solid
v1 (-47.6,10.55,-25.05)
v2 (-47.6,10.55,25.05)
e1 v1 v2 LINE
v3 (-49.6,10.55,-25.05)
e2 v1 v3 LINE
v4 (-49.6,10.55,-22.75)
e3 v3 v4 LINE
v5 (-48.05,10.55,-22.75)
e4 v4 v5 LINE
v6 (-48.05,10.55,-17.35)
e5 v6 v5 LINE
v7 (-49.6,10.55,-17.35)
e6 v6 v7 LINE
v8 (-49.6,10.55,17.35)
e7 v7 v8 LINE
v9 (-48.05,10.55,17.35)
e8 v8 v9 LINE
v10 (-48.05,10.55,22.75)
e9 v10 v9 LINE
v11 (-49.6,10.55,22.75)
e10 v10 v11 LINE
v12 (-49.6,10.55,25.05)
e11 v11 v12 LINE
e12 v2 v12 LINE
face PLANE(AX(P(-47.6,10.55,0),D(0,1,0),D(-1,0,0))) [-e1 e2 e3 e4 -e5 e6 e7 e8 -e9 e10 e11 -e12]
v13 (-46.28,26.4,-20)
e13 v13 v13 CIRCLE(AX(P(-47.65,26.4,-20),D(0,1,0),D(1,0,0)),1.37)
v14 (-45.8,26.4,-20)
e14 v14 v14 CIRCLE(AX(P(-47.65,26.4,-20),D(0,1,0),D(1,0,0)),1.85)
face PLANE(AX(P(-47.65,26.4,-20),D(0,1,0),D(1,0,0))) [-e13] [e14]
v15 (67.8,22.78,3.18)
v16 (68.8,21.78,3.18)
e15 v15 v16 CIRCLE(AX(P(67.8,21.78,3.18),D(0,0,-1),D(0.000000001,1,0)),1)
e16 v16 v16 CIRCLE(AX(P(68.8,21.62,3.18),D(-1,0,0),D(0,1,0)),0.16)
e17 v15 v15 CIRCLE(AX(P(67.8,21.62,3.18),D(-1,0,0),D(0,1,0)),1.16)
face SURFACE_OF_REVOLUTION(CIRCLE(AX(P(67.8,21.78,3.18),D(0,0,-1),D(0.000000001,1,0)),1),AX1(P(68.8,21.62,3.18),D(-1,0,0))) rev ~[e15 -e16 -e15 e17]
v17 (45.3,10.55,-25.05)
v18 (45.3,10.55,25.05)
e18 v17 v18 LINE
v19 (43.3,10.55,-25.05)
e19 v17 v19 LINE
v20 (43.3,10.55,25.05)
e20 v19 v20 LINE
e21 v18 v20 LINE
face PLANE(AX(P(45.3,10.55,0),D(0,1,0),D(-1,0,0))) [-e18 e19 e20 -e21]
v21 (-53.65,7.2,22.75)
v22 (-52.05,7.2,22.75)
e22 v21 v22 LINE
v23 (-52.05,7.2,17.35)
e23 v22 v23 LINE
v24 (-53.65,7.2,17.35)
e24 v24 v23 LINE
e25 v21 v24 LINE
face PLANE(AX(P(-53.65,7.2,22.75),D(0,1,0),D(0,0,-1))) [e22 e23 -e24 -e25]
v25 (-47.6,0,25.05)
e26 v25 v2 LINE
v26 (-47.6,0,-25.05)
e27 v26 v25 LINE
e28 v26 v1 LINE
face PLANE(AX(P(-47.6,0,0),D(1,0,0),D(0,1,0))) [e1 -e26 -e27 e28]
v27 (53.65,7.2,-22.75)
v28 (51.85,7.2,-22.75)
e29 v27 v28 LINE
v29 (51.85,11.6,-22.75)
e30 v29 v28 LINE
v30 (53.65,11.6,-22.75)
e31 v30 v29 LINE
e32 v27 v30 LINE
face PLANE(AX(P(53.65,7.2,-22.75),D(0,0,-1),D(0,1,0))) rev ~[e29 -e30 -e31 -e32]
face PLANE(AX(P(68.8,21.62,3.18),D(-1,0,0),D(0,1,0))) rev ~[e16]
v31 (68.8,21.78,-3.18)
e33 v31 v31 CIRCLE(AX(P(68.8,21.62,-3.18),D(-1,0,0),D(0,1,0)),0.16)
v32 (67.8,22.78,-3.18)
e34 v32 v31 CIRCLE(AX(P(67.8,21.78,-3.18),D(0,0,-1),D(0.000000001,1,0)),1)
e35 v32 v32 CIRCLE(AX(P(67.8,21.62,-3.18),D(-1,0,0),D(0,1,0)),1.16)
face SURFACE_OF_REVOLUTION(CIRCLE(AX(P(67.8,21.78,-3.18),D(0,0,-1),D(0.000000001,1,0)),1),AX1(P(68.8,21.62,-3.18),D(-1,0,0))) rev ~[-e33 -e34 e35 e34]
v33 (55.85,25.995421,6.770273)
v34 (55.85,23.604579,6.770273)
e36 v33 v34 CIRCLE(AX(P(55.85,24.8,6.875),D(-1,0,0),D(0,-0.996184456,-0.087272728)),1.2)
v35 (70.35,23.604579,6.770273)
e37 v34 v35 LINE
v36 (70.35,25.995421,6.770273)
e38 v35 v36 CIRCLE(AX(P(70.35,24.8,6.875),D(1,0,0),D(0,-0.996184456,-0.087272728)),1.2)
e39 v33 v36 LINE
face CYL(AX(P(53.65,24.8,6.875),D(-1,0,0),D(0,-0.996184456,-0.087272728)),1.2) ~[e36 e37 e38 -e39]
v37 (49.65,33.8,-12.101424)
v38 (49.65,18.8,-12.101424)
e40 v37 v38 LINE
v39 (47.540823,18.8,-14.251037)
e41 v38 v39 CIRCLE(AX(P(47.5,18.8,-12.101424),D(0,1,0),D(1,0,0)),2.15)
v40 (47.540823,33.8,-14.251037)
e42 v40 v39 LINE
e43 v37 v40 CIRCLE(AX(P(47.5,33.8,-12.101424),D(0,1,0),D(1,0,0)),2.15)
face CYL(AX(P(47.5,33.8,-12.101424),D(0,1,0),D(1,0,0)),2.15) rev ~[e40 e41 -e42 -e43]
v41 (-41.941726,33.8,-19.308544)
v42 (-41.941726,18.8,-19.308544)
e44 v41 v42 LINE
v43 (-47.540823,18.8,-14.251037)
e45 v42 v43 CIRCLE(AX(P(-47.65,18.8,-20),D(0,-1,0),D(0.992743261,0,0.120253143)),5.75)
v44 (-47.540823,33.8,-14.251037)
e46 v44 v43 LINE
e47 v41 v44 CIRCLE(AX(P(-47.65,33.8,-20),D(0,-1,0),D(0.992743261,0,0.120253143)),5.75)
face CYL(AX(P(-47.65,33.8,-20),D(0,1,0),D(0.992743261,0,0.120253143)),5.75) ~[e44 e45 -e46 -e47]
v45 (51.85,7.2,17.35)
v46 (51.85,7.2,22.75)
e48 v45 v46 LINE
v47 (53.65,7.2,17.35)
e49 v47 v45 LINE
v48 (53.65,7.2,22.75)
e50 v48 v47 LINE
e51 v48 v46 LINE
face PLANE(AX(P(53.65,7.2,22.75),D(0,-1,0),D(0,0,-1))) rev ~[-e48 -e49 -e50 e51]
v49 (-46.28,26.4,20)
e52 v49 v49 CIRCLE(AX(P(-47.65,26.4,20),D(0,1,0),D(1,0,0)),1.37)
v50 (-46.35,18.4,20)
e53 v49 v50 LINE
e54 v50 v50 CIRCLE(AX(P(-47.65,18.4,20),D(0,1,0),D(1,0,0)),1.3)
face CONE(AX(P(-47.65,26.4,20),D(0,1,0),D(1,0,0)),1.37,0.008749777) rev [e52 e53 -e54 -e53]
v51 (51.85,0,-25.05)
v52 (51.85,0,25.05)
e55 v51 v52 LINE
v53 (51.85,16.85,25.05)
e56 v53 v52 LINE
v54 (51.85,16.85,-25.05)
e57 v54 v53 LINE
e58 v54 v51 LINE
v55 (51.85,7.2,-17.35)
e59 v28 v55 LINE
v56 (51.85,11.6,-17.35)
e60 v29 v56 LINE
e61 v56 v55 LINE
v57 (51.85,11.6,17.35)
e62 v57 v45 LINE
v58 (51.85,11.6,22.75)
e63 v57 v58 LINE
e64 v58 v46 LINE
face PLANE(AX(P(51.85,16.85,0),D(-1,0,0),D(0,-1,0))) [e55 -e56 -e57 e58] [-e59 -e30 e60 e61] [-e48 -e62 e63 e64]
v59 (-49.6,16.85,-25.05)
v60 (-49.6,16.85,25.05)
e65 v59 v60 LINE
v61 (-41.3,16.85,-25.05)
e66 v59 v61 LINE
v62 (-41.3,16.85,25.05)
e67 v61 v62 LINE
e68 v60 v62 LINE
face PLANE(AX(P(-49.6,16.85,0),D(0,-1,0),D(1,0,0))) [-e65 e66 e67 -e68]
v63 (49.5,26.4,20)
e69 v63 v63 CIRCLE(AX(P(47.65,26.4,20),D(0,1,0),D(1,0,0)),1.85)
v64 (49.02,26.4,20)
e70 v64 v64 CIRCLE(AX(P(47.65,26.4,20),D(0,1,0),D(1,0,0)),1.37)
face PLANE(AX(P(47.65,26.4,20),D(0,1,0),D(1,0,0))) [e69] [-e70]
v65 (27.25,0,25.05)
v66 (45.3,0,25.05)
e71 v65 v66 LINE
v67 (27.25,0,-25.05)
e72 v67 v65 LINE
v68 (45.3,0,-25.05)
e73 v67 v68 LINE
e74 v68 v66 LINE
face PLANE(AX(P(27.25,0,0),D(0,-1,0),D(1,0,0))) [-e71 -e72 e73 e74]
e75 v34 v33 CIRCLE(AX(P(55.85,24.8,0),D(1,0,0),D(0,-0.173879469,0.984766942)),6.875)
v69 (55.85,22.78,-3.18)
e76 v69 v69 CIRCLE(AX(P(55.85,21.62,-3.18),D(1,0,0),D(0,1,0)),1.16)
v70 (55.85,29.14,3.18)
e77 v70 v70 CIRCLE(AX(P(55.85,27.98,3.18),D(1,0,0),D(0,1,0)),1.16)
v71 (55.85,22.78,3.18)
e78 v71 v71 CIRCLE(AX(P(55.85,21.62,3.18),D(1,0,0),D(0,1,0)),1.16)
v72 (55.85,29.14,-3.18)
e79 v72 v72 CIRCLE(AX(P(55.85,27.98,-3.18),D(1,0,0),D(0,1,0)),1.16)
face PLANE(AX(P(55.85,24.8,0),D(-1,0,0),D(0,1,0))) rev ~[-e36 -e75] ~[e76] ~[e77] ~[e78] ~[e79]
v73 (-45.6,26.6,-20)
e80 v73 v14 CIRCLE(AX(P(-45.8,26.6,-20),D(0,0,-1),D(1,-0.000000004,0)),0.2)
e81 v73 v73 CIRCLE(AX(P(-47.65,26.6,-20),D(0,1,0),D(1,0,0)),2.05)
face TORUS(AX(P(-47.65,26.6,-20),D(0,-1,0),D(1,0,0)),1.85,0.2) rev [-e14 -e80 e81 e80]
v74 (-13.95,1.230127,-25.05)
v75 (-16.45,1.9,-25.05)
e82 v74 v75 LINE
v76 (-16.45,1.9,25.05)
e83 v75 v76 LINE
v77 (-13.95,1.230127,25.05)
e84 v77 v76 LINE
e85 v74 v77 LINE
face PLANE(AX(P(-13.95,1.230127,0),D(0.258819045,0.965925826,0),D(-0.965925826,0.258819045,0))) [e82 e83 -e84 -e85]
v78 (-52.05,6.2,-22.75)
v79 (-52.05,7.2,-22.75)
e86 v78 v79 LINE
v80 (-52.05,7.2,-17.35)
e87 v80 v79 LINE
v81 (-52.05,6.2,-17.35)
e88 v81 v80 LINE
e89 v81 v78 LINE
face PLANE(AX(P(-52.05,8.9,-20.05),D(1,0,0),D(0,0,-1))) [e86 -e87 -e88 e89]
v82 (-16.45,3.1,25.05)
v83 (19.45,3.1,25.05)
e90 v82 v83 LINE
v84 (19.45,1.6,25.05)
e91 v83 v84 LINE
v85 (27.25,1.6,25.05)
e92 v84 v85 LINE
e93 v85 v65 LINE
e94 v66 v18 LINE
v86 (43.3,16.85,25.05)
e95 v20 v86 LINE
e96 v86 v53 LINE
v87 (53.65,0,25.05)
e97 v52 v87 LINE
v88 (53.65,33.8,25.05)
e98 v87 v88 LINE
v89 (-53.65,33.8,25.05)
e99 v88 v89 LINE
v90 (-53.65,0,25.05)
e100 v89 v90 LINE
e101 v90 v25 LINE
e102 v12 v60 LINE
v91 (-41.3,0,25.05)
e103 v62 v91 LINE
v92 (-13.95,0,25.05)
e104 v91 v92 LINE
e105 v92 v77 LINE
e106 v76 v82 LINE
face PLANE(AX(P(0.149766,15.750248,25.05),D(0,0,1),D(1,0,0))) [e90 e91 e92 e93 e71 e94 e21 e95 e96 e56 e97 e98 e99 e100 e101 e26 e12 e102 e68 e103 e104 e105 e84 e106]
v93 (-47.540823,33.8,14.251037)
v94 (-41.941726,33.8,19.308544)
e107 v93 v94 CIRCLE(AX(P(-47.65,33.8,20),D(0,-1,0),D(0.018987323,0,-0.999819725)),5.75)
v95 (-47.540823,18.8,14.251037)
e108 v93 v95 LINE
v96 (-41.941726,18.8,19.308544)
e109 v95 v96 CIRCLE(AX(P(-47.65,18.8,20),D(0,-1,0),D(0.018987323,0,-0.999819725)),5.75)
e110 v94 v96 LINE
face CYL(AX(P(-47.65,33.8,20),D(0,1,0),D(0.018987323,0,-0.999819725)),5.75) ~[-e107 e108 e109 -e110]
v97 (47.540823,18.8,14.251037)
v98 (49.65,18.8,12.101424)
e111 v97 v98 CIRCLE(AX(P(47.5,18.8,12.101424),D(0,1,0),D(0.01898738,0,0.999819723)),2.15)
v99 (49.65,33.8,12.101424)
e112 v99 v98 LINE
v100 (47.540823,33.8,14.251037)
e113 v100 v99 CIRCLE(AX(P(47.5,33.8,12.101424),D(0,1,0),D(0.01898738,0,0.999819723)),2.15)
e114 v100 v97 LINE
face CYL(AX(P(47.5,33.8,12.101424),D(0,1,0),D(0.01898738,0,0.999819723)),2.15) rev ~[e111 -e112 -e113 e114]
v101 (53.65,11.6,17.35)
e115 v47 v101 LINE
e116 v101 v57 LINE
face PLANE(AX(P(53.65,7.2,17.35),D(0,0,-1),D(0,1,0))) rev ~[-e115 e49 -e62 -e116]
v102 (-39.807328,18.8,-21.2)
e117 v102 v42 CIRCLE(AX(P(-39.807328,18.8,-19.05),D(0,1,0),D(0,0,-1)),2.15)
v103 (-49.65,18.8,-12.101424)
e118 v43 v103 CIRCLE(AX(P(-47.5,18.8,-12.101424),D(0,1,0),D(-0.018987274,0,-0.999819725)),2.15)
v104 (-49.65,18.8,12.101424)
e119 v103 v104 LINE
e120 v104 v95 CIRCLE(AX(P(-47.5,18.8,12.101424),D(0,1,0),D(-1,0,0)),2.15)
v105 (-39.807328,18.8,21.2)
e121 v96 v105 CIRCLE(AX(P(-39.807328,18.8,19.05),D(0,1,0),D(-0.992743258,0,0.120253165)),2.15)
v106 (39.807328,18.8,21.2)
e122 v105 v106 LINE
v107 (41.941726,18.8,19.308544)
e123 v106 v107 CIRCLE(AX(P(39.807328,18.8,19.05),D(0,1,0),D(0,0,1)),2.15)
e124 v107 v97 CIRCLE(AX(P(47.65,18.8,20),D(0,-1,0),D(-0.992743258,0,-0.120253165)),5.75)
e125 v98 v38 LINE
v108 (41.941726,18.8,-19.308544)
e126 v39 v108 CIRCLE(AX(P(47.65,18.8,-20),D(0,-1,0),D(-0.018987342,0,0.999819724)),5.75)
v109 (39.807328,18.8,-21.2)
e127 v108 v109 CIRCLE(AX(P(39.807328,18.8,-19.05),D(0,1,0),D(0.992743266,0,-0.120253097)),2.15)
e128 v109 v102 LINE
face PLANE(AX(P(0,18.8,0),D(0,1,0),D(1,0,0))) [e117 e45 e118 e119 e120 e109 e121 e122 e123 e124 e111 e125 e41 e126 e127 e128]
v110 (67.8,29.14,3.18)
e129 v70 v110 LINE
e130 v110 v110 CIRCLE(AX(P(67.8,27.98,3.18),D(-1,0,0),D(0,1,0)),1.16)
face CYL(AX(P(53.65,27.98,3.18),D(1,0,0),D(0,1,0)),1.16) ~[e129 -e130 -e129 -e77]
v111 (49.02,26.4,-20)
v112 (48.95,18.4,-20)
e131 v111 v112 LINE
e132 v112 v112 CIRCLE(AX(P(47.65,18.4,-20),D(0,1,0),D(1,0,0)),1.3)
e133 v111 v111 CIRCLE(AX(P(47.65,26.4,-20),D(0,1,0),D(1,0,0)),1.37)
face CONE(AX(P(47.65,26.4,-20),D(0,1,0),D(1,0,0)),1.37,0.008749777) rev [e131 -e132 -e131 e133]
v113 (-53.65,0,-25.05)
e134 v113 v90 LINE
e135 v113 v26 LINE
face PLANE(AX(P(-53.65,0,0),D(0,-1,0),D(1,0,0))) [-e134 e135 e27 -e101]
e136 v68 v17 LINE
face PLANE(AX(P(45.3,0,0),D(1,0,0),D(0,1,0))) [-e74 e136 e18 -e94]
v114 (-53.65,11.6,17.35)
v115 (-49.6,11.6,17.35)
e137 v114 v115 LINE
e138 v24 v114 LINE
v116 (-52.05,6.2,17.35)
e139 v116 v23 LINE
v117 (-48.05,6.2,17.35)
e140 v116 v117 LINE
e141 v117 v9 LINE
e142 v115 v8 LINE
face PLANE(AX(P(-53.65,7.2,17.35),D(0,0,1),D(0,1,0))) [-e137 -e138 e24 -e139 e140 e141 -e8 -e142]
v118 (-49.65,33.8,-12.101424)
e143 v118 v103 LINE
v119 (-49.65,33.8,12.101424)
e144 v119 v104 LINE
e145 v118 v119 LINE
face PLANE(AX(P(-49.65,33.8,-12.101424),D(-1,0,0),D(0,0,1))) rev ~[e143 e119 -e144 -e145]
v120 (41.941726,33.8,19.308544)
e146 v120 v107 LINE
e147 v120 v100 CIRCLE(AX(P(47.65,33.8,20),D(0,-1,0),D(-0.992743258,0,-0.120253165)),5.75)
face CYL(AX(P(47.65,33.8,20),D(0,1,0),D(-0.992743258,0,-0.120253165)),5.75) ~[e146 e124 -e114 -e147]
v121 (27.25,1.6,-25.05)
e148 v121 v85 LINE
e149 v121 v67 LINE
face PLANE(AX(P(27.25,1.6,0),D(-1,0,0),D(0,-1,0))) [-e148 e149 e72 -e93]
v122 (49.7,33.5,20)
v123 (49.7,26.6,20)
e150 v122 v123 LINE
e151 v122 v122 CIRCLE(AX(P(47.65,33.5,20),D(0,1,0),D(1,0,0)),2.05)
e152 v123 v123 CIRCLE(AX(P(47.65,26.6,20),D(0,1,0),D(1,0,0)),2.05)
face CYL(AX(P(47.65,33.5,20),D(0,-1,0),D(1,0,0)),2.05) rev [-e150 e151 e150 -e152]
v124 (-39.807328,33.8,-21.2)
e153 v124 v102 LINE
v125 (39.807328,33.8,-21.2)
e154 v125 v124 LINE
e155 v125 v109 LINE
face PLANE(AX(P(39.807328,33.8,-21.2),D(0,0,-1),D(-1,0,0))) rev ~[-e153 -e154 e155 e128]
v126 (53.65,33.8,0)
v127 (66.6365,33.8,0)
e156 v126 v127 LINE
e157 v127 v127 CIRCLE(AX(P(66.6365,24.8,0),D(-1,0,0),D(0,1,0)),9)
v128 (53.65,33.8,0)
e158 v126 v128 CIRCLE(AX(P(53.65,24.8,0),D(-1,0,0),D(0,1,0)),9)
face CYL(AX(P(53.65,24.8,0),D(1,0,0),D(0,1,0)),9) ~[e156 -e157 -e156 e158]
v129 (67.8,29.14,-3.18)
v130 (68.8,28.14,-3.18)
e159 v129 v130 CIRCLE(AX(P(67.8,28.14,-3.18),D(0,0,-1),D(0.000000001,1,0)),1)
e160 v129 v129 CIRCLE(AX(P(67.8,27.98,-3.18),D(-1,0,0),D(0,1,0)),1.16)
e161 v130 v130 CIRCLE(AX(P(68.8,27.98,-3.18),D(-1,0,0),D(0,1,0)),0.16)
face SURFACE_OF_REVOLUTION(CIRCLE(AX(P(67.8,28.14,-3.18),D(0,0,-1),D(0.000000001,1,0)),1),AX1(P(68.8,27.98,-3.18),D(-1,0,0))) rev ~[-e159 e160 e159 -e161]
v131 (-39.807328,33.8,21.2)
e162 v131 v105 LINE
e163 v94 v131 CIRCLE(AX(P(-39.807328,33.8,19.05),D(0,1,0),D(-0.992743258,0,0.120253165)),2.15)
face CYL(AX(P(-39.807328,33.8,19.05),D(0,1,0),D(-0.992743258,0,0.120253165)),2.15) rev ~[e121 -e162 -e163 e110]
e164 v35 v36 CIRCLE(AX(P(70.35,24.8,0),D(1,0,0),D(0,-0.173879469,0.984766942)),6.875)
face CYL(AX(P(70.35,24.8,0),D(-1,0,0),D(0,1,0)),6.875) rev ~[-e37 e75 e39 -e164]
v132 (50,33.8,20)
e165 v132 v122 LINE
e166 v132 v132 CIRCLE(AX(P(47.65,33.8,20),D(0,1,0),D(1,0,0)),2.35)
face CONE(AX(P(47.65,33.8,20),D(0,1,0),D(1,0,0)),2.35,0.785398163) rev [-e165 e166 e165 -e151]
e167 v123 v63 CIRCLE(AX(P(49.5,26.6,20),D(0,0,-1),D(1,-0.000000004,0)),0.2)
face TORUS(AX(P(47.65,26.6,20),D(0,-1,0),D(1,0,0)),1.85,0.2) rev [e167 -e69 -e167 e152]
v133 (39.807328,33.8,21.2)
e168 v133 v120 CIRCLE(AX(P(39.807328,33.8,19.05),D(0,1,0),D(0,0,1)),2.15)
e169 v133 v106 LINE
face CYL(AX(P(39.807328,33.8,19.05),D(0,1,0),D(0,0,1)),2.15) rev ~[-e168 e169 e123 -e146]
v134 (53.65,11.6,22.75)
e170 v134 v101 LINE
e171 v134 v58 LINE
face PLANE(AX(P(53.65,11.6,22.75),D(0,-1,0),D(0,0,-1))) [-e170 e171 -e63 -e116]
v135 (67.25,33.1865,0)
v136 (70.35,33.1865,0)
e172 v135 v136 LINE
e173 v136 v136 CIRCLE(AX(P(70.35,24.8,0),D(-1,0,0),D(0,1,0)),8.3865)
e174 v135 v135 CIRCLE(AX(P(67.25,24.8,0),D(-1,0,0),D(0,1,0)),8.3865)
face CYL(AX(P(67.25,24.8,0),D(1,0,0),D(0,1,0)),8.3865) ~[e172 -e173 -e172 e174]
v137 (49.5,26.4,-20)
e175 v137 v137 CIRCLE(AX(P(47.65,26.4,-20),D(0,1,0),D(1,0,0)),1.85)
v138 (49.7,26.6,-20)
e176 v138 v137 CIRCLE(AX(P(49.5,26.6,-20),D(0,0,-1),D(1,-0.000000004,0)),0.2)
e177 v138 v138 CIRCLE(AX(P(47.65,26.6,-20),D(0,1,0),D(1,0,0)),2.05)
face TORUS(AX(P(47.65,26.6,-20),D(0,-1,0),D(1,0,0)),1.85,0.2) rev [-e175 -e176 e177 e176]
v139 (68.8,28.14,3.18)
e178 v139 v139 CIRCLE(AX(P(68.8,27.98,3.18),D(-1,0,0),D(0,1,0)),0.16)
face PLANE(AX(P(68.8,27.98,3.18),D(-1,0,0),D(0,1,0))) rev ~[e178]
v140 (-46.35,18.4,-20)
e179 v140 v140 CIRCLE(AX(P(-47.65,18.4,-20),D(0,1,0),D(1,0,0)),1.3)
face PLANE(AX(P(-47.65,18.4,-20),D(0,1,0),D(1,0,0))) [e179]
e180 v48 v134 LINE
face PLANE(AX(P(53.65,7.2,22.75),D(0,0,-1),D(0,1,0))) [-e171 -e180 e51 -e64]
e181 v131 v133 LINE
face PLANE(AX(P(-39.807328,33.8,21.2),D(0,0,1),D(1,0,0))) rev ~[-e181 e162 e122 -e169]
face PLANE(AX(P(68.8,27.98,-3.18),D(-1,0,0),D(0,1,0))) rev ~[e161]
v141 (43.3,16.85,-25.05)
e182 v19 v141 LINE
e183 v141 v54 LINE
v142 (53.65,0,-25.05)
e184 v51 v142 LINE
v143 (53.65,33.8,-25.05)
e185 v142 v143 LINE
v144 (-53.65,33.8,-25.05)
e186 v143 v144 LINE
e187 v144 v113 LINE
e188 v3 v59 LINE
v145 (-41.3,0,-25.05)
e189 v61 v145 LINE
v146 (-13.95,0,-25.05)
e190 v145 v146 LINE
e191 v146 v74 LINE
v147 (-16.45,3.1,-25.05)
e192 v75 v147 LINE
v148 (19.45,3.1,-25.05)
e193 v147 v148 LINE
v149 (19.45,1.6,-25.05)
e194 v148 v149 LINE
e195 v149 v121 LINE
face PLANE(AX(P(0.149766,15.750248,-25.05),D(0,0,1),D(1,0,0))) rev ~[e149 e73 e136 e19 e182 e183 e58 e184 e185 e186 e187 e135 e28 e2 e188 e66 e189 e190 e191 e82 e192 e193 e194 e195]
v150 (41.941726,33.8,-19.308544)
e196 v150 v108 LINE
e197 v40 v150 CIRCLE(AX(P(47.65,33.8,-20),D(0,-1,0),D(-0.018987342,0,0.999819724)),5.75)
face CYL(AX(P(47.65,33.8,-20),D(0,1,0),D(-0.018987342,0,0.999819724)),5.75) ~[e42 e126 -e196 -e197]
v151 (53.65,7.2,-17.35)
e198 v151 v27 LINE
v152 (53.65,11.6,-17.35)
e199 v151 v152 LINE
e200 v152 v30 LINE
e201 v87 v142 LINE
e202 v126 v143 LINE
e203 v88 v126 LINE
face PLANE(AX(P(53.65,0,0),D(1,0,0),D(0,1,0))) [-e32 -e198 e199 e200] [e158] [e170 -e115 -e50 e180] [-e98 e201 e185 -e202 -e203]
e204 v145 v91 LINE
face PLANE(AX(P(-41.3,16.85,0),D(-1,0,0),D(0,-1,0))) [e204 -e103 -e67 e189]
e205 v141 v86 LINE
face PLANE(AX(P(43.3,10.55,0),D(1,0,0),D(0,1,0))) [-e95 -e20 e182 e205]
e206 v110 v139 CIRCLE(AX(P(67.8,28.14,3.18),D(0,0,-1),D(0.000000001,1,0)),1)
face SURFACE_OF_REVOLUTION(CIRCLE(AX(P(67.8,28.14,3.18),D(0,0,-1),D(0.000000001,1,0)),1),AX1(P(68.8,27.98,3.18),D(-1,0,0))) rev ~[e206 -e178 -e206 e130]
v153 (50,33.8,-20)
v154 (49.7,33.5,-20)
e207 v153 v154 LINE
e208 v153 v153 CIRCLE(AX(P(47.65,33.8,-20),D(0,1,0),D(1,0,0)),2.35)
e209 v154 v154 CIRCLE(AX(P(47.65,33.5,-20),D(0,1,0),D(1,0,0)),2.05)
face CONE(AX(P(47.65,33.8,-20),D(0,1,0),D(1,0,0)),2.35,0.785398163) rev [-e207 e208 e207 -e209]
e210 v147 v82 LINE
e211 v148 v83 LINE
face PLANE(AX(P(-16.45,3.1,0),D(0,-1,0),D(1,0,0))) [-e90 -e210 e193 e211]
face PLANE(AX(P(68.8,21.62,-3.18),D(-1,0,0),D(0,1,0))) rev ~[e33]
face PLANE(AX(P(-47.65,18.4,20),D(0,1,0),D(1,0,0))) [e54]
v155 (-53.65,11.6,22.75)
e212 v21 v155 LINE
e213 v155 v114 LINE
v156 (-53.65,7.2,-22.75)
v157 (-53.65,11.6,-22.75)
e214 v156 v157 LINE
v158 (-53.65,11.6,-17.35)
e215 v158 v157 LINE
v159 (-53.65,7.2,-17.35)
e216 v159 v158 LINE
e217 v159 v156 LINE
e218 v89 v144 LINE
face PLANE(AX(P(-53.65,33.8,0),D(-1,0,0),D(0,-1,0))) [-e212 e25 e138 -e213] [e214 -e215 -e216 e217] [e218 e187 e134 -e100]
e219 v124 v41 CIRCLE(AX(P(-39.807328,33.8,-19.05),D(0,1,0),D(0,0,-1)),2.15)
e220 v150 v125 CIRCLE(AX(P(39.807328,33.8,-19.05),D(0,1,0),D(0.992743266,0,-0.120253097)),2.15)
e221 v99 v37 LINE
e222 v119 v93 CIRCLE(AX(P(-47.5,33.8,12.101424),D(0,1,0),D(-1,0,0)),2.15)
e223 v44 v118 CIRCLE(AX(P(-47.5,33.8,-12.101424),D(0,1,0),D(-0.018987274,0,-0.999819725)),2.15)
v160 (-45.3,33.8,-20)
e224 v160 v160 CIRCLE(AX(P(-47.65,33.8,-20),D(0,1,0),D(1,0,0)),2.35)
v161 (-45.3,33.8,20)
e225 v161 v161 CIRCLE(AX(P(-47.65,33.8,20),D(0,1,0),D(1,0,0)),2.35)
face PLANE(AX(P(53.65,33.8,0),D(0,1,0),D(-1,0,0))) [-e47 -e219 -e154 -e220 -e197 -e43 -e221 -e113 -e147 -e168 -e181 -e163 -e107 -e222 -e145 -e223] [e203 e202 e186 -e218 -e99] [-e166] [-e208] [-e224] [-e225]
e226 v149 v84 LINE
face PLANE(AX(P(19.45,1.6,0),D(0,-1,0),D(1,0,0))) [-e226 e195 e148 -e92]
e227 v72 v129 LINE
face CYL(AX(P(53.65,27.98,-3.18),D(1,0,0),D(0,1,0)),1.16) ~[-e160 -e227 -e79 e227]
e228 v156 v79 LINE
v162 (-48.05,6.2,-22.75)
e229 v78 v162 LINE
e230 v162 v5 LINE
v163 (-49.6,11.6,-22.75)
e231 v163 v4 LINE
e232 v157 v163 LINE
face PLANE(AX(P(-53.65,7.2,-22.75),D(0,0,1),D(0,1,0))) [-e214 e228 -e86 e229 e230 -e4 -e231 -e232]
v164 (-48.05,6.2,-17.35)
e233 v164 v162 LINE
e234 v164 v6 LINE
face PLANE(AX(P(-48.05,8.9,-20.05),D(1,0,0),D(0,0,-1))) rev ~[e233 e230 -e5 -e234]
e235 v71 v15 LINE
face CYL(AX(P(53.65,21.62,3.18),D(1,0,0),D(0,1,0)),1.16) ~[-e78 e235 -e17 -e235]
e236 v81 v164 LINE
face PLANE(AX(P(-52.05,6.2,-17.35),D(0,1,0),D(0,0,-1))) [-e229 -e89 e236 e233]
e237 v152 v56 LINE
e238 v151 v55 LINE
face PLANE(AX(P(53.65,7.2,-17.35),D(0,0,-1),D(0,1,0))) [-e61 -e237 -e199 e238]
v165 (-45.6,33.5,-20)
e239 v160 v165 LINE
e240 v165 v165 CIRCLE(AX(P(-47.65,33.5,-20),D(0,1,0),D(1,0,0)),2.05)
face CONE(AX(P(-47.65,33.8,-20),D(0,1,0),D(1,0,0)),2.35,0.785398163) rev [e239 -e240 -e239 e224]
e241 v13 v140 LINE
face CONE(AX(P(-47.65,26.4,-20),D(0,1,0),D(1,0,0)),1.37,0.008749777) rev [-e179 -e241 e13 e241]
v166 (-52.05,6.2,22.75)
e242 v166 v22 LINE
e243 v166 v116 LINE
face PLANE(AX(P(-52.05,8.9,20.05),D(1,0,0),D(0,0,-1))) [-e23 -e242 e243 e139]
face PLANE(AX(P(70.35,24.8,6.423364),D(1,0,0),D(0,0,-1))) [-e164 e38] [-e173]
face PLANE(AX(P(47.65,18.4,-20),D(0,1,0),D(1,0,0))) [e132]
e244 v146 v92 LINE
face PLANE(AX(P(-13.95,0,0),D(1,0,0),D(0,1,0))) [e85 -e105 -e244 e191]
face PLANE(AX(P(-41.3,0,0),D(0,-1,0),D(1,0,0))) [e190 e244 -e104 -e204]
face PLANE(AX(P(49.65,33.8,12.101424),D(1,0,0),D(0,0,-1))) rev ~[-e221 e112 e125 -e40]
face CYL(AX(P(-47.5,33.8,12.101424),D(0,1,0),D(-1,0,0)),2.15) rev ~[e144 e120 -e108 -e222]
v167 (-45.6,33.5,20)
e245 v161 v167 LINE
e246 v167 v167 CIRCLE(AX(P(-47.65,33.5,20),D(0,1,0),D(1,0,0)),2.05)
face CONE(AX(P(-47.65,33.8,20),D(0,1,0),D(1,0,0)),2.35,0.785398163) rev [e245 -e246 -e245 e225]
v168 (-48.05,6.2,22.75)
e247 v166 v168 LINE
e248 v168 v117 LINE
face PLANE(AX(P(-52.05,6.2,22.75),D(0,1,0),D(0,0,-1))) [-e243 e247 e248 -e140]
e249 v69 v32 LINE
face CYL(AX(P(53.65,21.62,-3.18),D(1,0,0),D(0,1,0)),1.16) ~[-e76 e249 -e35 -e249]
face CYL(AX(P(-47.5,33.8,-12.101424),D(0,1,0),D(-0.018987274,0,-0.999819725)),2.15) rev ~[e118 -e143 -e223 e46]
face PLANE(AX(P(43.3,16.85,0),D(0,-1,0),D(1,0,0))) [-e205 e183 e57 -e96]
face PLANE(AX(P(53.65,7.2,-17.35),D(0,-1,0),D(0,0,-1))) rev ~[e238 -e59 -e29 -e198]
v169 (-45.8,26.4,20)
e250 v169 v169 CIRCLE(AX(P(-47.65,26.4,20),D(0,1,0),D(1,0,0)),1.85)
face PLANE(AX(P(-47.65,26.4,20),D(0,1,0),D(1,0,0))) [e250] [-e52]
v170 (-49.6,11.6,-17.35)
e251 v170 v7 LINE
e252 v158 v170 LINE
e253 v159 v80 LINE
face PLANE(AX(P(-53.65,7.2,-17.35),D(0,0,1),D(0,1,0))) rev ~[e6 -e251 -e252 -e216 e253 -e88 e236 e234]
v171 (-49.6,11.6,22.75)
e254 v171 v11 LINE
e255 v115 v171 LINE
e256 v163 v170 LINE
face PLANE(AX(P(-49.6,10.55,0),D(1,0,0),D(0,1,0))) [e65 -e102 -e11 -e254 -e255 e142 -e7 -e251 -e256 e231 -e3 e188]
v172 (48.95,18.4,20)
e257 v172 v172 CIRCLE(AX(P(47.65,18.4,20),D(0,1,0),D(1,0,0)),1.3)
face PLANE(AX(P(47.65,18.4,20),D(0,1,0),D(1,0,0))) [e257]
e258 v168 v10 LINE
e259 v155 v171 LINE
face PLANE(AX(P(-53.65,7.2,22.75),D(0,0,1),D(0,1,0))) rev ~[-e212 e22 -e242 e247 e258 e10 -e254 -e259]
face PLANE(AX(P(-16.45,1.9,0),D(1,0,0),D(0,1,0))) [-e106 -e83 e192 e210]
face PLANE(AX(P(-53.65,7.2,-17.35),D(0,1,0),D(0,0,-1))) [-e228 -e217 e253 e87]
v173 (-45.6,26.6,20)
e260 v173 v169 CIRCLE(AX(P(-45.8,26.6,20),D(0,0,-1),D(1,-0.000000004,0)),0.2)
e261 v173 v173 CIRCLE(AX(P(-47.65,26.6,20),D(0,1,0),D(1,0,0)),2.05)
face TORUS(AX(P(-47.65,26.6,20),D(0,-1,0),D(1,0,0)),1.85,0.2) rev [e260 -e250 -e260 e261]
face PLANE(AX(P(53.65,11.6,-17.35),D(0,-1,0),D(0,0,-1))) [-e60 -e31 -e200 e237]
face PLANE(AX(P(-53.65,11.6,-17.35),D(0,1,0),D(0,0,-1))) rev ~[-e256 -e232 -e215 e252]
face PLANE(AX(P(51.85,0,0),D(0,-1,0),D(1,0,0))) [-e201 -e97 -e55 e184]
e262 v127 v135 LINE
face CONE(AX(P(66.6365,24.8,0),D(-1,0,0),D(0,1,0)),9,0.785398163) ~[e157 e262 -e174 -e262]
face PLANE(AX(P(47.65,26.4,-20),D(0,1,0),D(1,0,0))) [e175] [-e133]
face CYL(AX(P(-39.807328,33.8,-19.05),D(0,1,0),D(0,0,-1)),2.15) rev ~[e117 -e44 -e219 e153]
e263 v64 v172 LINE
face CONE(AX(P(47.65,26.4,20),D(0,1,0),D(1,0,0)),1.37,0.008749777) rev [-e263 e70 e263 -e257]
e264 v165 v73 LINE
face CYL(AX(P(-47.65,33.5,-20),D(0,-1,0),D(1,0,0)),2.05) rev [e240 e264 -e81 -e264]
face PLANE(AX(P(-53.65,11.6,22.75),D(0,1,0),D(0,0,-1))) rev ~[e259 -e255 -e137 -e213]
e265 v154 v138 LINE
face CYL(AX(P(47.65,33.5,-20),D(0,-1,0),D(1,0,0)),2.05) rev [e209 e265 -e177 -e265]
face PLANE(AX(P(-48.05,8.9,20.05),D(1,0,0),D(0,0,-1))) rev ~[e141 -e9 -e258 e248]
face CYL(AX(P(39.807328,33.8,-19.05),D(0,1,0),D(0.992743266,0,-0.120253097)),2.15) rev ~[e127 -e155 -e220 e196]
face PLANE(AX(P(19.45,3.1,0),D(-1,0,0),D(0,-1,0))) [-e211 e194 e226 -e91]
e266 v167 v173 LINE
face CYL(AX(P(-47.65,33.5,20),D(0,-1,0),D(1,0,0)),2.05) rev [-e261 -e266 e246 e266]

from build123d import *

# Parameters (mm, degrees)
BOSS_EXTRUDE1_DEPTH      = 25.05
BOSS_EXTRUDE1_DEPTH_BACK = 25.05
CUT_EXTRUDE1_DEPTH       = 15
SKETCH7_W                = 5.4
SKETCH7_H                = 4.4
CUT_EXTRUDE2_DEPTH       = 3
SKETCH8_W                = 5.4
SKETCH8_H                = 4.4
CUT_EXTRUDE3_DEPTH       = 3
SKETCH9_W                = 5.4
SKETCH9_H                = 4.4
CUT_EXTRUDE4_DEPTH       = 5
SKETCH10_W               = 5.4
SKETCH10_H               = 4.4
CUT_EXTRUDE5_DEPTH       = 5
BOSS_EXTRUDE2_DEPTH      = 16.7
SKETCH17_W               = 5.4
SKETCH17_H               = 5.4
CUT_EXTRUDE6_DEPTH       = 4
SKETCH18_W               = 5.4
SKETCH18_H               = 5.4
CUT_EXTRUDE7_DEPTH       = 4


with BuildPart() as part:
    # Sketch1 → Boss-Extrude1 (new, two sides: drawn at the far end of the back side and taken through both)
    with BuildSketch(Plane.XY.offset(-BOSS_EXTRUDE1_DEPTH_BACK)):
        Polygon((-53.65, 33.8), (-53.65, 0), (-47.6, 0), (-47.6, 10.55), (-49.6, 10.55), (-49.6, 16.85), (-41.3, 16.85), (-41.3, 0), (-13.95, 0), (-13.95, 1.230127019), (-16.45, 1.9), (-16.45, 3.1), (19.45, 3.1), (19.45, 1.6), (27.25, 1.6), (27.25, 0), (45.3, 0), (45.3, 10.55), (43.3, 10.55), (43.3, 16.85), (51.85, 16.85), (51.85, 0), (53.65, 0), (53.65, 33.8), align=None)
    extrude(amount=BOSS_EXTRUDE1_DEPTH + BOSS_EXTRUDE1_DEPTH_BACK)

    # Sketch2 → Cut-Revolve1 (revolve, cut)
    with BuildSketch(Plane.XY.offset(20)):
        with BuildLine():
            Line((47.65, 33.8), (50, 33.8))
            Line((50, 33.8), (49.7, 33.5))
            Line((49.7, 33.5), (49.7, 26.6))
            ThreePointArc((49.7, 26.6), (49.641421356, 26.458578644), (49.5, 26.4))
            Line((49.5, 26.4), (49.02, 26.4))
            Line((49.02, 26.4), (48.95, 18.4))
            Line((48.95, 18.4), (47.65, 18.4))
            Line((47.65, 18.4), (47.65, 33.8))
        make_face()
    revolve(axis=Axis((47.65, 18.4, 20), (0, 1, 0)), mode=Mode.SUBTRACT)

    # Sketch3 → Cut-Revolve2 (revolve, cut)
    with BuildSketch(Plane.XY.offset(-20)):
        with BuildLine():
            Line((47.65, 33.8), (50, 33.8))
            Line((50, 33.8), (49.7, 33.5))
            Line((49.7, 33.5), (49.7, 26.6))
            ThreePointArc((49.7, 26.6), (49.641421356, 26.458578644), (49.5, 26.4))
            Line((49.5, 26.4), (49.02, 26.4))
            Line((49.02, 26.4), (48.95, 18.4))
            Line((48.95, 18.4), (47.65, 18.4))
            Line((47.65, 18.4), (47.65, 33.8))
        make_face()
    revolve(axis=Axis((47.65, 18.4, -20), (0, 1, 0)), mode=Mode.SUBTRACT)

    # Sketch4 → Cut-Revolve3 (revolve, cut)
    with BuildSketch(Plane.XY.offset(-20)):
        with BuildLine():
            Line((-47.65, 33.8), (-45.3, 33.8))
            Line((-45.3, 33.8), (-45.6, 33.5))
            Line((-45.6, 33.5), (-45.6, 26.6))
            ThreePointArc((-45.6, 26.6), (-45.658578644, 26.458578644), (-45.8, 26.4))
            Line((-45.8, 26.4), (-46.28, 26.4))
            Line((-46.28, 26.4), (-46.35, 18.4))
            Line((-46.35, 18.4), (-47.65, 18.4))
            Line((-47.65, 18.4), (-47.65, 33.8))
        make_face()
    revolve(axis=Axis((-47.65, 18.4, -20), (0, 1, 0)), mode=Mode.SUBTRACT)

    # Sketch5 → Cut-Revolve4 (revolve, cut)
    with BuildSketch(Plane.XY.offset(20)):
        with BuildLine():
            Line((-47.65, 33.8), (-45.3, 33.8))
            Line((-45.3, 33.8), (-45.6, 33.5))
            Line((-45.6, 33.5), (-45.6, 26.6))
            ThreePointArc((-45.6, 26.6), (-45.658578644, 26.458578644), (-45.8, 26.4))
            Line((-45.8, 26.4), (-46.28, 26.4))
            Line((-46.28, 26.4), (-46.35, 18.4))
            Line((-46.35, 18.4), (-47.65, 18.4))
            Line((-47.65, 18.4), (-47.65, 33.8))
        make_face()
    revolve(axis=Axis((-47.65, 18.4, 20), (0, 1, 0)), mode=Mode.SUBTRACT)

    # Sketch6 → Cut-Extrude1 (cut)
    with BuildSketch(Plane(origin=(0, 33.8, 0), x_dir=(1, 0, 0), z_dir=(0, 1, 0))):
        with BuildLine():
            Line((-39.807328261, -21.2), (39.807328261, -21.2))
            ThreePointArc((39.807328261, -21.2), (41.233271764, -20.659094505), (41.941726266, -19.308544304))
            ThreePointArc((41.941726266, -19.308544304), (43.795745244, -15.733008053), (47.540822869, -14.251036584))
            ThreePointArc((47.540822869, -14.251036584), (49.034644775, -13.607201525), (49.65, -12.101424179))
            Line((49.65, -12.101424179), (49.65, 12.101424179))
            ThreePointArc((49.65, 12.101424179), (49.034644745, 13.607201555), (47.540822785, 14.251036586))
            ThreePointArc((47.540822785, 14.251036586), (43.795745267, 15.733008032), (41.941726284, 19.308544159))
            ThreePointArc((41.941726284, 19.308544159), (41.233271819, 20.659094457), (39.807328261, 21.2))
            Line((39.807328261, 21.2), (-39.807328261, 21.2))
            ThreePointArc((-39.807328261, 21.2), (-41.233271718, 20.659094546), (-41.941726251, 19.308544426))
            ThreePointArc((-41.941726251, 19.308544426), (-43.795745113, 15.733008171), (-47.540822639, 14.251036589))
            ThreePointArc((-47.540822639, 14.251036589), (-49.034644694, 13.607201607), (-49.65, 12.101424179))
            Line((-49.65, 12.101424179), (-49.65, -12.101424179))
            ThreePointArc((-49.65, -12.101424179), (-49.034644783, -13.607201517), (-47.540822892, -14.251036584))
            ThreePointArc((-47.540822892, -14.251036584), (-43.795745253, -15.733008045), (-41.941726266, -19.308544304))
            ThreePointArc((-41.941726266, -19.308544304), (-41.233271764, -20.659094505), (-39.807328261, -21.2))
        make_face()
    extrude(amount=-CUT_EXTRUDE1_DEPTH, mode=Mode.SUBTRACT)

    # Sketch7 → Cut-Extrude2 (cut)
    with BuildSketch(Plane(origin=(53.65, 0, 0), x_dir=(0, 0, -1), z_dir=(1, 0, 0))):
        with Locations((20.05, 9.4)):
            Rectangle(SKETCH7_W, SKETCH7_H)
    extrude(amount=-CUT_EXTRUDE2_DEPTH, mode=Mode.SUBTRACT)

    # Sketch8 → Cut-Extrude3 (cut)
    with BuildSketch(Plane(origin=(53.65, 0, 0), x_dir=(0, 0, -1), z_dir=(1, 0, 0))):
        with Locations((-20.05, 9.4)):
            Rectangle(SKETCH8_W, SKETCH8_H)
    extrude(amount=-CUT_EXTRUDE3_DEPTH, mode=Mode.SUBTRACT)

    # Sketch9 → Cut-Extrude4 (cut)
    with BuildSketch(Plane(origin=(-53.65, 0, 0), x_dir=(0, 0, -1), z_dir=(1, 0, 0))):
        with Locations((20.05, 9.4)):
            Rectangle(SKETCH9_W, SKETCH9_H)
    extrude(amount=CUT_EXTRUDE4_DEPTH, mode=Mode.SUBTRACT)

    # Sketch10 → Cut-Extrude5 (cut)
    with BuildSketch(Plane(origin=(-53.65, 0, 0), x_dir=(0, 0, -1), z_dir=(1, 0, 0))):
        with Locations((-20.05, 9.4)):
            Rectangle(SKETCH10_W, SKETCH10_H)
    extrude(amount=CUT_EXTRUDE5_DEPTH, mode=Mode.SUBTRACT)

    # Sketch11 → Revolve1 (revolve)
    with BuildSketch(Plane.XY):
        Polygon((53.65, 24.8), (53.65, 33.8), (66.6365, 33.8), (67.25, 33.1865), (70.35, 33.1865), (70.35, 31.675), (55.85, 31.675), (55.85, 24.8), align=None)
    revolve(axis=Axis((70.35, 24.8, 0), (-1, 0, 0)))

    # Sketch12 → Boss-Extrude2 (add)
    with BuildSketch(Plane(origin=(53.65, 0, 0), x_dir=(0, 0, -1), z_dir=(1, 0, 0))):
        with BuildLine():
            ThreePointArc((-6.770272727, 25.995421348), (-6.875, 24.8), (-6.770272727, 23.604578652))
            ThreePointArc((-6.770272727, 23.604578652), (-5.675, 24.8), (-6.770272727, 25.995421348))
        make_face()
    extrude(amount=BOSS_EXTRUDE2_DEPTH)

    # Sketch13 → Revolve2 (revolve)
    with BuildSketch(Plane.XY.offset(-3.18)):
        with BuildLine():
            Line((53.65, 27.98), (53.65, 29.14))
            Line((53.65, 29.14), (67.8, 29.14))
            ThreePointArc((67.8, 29.14), (68.507106781, 28.847106781), (68.8, 28.14))
            Line((68.8, 28.14), (68.8, 27.98))
            Line((68.8, 27.98), (53.65, 27.98))
        make_face()
    revolve(axis=Axis((68.8, 27.98, -3.18), (-1, 0, 0)))

    # Sketch14 → Revolve3 (revolve)
    with BuildSketch(Plane.XY.offset(3.18)):
        with BuildLine():
            Line((53.65, 27.98), (53.65, 29.14))
            Line((53.65, 29.14), (67.8, 29.14))
            ThreePointArc((67.8, 29.14), (68.507106781, 28.847106781), (68.8, 28.14))
            Line((68.8, 28.14), (68.8, 27.98))
            Line((68.8, 27.98), (53.65, 27.98))
        make_face()
    revolve(axis=Axis((68.8, 27.98, 3.18), (-1, 0, 0)))

    # Sketch15 → Revolve4 (revolve)
    with BuildSketch(Plane.XY.offset(-3.18)):
        with BuildLine():
            Line((53.65, 21.62), (53.65, 22.78))
            Line((53.65, 22.78), (67.8, 22.78))
            ThreePointArc((67.8, 22.78), (68.507106781, 22.487106781), (68.8, 21.78))
            Line((68.8, 21.78), (68.8, 21.62))
            Line((68.8, 21.62), (53.65, 21.62))
        make_face()
    revolve(axis=Axis((68.8, 21.62, -3.18), (-1, 0, 0)))

    # Sketch16 → Revolve5 (revolve)
    with BuildSketch(Plane.XY.offset(3.18)):
        with BuildLine():
            Line((53.65, 21.62), (53.65, 22.78))
            Line((53.65, 22.78), (67.8, 22.78))
            ThreePointArc((67.8, 22.78), (68.507106781, 22.487106781), (68.8, 21.78))
            Line((68.8, 21.78), (68.8, 21.62))
            Line((68.8, 21.62), (53.65, 21.62))
        make_face()
    revolve(axis=Axis((68.8, 21.62, 3.18), (-1, 0, 0)))

    # Sketch17 → Cut-Extrude6 (cut)
    with BuildSketch(Plane(origin=(-52.05, 0, 0), x_dir=(0, 0, -1), z_dir=(1, 0, 0))):
        with Locations((-20.05, 8.9)):
            Rectangle(SKETCH17_W, SKETCH17_H)
    extrude(amount=CUT_EXTRUDE6_DEPTH, mode=Mode.SUBTRACT)

    # Sketch18 → Cut-Extrude7 (cut)
    with BuildSketch(Plane(origin=(-52.05, 0, 0), x_dir=(0, 0, -1), z_dir=(1, 0, 0))):
        with Locations((20.05, 8.9)):
            Rectangle(SKETCH18_W, SKETCH18_H)
    extrude(amount=CUT_EXTRUDE7_DEPTH, mode=Mode.SUBTRACT)


solid = part.part
